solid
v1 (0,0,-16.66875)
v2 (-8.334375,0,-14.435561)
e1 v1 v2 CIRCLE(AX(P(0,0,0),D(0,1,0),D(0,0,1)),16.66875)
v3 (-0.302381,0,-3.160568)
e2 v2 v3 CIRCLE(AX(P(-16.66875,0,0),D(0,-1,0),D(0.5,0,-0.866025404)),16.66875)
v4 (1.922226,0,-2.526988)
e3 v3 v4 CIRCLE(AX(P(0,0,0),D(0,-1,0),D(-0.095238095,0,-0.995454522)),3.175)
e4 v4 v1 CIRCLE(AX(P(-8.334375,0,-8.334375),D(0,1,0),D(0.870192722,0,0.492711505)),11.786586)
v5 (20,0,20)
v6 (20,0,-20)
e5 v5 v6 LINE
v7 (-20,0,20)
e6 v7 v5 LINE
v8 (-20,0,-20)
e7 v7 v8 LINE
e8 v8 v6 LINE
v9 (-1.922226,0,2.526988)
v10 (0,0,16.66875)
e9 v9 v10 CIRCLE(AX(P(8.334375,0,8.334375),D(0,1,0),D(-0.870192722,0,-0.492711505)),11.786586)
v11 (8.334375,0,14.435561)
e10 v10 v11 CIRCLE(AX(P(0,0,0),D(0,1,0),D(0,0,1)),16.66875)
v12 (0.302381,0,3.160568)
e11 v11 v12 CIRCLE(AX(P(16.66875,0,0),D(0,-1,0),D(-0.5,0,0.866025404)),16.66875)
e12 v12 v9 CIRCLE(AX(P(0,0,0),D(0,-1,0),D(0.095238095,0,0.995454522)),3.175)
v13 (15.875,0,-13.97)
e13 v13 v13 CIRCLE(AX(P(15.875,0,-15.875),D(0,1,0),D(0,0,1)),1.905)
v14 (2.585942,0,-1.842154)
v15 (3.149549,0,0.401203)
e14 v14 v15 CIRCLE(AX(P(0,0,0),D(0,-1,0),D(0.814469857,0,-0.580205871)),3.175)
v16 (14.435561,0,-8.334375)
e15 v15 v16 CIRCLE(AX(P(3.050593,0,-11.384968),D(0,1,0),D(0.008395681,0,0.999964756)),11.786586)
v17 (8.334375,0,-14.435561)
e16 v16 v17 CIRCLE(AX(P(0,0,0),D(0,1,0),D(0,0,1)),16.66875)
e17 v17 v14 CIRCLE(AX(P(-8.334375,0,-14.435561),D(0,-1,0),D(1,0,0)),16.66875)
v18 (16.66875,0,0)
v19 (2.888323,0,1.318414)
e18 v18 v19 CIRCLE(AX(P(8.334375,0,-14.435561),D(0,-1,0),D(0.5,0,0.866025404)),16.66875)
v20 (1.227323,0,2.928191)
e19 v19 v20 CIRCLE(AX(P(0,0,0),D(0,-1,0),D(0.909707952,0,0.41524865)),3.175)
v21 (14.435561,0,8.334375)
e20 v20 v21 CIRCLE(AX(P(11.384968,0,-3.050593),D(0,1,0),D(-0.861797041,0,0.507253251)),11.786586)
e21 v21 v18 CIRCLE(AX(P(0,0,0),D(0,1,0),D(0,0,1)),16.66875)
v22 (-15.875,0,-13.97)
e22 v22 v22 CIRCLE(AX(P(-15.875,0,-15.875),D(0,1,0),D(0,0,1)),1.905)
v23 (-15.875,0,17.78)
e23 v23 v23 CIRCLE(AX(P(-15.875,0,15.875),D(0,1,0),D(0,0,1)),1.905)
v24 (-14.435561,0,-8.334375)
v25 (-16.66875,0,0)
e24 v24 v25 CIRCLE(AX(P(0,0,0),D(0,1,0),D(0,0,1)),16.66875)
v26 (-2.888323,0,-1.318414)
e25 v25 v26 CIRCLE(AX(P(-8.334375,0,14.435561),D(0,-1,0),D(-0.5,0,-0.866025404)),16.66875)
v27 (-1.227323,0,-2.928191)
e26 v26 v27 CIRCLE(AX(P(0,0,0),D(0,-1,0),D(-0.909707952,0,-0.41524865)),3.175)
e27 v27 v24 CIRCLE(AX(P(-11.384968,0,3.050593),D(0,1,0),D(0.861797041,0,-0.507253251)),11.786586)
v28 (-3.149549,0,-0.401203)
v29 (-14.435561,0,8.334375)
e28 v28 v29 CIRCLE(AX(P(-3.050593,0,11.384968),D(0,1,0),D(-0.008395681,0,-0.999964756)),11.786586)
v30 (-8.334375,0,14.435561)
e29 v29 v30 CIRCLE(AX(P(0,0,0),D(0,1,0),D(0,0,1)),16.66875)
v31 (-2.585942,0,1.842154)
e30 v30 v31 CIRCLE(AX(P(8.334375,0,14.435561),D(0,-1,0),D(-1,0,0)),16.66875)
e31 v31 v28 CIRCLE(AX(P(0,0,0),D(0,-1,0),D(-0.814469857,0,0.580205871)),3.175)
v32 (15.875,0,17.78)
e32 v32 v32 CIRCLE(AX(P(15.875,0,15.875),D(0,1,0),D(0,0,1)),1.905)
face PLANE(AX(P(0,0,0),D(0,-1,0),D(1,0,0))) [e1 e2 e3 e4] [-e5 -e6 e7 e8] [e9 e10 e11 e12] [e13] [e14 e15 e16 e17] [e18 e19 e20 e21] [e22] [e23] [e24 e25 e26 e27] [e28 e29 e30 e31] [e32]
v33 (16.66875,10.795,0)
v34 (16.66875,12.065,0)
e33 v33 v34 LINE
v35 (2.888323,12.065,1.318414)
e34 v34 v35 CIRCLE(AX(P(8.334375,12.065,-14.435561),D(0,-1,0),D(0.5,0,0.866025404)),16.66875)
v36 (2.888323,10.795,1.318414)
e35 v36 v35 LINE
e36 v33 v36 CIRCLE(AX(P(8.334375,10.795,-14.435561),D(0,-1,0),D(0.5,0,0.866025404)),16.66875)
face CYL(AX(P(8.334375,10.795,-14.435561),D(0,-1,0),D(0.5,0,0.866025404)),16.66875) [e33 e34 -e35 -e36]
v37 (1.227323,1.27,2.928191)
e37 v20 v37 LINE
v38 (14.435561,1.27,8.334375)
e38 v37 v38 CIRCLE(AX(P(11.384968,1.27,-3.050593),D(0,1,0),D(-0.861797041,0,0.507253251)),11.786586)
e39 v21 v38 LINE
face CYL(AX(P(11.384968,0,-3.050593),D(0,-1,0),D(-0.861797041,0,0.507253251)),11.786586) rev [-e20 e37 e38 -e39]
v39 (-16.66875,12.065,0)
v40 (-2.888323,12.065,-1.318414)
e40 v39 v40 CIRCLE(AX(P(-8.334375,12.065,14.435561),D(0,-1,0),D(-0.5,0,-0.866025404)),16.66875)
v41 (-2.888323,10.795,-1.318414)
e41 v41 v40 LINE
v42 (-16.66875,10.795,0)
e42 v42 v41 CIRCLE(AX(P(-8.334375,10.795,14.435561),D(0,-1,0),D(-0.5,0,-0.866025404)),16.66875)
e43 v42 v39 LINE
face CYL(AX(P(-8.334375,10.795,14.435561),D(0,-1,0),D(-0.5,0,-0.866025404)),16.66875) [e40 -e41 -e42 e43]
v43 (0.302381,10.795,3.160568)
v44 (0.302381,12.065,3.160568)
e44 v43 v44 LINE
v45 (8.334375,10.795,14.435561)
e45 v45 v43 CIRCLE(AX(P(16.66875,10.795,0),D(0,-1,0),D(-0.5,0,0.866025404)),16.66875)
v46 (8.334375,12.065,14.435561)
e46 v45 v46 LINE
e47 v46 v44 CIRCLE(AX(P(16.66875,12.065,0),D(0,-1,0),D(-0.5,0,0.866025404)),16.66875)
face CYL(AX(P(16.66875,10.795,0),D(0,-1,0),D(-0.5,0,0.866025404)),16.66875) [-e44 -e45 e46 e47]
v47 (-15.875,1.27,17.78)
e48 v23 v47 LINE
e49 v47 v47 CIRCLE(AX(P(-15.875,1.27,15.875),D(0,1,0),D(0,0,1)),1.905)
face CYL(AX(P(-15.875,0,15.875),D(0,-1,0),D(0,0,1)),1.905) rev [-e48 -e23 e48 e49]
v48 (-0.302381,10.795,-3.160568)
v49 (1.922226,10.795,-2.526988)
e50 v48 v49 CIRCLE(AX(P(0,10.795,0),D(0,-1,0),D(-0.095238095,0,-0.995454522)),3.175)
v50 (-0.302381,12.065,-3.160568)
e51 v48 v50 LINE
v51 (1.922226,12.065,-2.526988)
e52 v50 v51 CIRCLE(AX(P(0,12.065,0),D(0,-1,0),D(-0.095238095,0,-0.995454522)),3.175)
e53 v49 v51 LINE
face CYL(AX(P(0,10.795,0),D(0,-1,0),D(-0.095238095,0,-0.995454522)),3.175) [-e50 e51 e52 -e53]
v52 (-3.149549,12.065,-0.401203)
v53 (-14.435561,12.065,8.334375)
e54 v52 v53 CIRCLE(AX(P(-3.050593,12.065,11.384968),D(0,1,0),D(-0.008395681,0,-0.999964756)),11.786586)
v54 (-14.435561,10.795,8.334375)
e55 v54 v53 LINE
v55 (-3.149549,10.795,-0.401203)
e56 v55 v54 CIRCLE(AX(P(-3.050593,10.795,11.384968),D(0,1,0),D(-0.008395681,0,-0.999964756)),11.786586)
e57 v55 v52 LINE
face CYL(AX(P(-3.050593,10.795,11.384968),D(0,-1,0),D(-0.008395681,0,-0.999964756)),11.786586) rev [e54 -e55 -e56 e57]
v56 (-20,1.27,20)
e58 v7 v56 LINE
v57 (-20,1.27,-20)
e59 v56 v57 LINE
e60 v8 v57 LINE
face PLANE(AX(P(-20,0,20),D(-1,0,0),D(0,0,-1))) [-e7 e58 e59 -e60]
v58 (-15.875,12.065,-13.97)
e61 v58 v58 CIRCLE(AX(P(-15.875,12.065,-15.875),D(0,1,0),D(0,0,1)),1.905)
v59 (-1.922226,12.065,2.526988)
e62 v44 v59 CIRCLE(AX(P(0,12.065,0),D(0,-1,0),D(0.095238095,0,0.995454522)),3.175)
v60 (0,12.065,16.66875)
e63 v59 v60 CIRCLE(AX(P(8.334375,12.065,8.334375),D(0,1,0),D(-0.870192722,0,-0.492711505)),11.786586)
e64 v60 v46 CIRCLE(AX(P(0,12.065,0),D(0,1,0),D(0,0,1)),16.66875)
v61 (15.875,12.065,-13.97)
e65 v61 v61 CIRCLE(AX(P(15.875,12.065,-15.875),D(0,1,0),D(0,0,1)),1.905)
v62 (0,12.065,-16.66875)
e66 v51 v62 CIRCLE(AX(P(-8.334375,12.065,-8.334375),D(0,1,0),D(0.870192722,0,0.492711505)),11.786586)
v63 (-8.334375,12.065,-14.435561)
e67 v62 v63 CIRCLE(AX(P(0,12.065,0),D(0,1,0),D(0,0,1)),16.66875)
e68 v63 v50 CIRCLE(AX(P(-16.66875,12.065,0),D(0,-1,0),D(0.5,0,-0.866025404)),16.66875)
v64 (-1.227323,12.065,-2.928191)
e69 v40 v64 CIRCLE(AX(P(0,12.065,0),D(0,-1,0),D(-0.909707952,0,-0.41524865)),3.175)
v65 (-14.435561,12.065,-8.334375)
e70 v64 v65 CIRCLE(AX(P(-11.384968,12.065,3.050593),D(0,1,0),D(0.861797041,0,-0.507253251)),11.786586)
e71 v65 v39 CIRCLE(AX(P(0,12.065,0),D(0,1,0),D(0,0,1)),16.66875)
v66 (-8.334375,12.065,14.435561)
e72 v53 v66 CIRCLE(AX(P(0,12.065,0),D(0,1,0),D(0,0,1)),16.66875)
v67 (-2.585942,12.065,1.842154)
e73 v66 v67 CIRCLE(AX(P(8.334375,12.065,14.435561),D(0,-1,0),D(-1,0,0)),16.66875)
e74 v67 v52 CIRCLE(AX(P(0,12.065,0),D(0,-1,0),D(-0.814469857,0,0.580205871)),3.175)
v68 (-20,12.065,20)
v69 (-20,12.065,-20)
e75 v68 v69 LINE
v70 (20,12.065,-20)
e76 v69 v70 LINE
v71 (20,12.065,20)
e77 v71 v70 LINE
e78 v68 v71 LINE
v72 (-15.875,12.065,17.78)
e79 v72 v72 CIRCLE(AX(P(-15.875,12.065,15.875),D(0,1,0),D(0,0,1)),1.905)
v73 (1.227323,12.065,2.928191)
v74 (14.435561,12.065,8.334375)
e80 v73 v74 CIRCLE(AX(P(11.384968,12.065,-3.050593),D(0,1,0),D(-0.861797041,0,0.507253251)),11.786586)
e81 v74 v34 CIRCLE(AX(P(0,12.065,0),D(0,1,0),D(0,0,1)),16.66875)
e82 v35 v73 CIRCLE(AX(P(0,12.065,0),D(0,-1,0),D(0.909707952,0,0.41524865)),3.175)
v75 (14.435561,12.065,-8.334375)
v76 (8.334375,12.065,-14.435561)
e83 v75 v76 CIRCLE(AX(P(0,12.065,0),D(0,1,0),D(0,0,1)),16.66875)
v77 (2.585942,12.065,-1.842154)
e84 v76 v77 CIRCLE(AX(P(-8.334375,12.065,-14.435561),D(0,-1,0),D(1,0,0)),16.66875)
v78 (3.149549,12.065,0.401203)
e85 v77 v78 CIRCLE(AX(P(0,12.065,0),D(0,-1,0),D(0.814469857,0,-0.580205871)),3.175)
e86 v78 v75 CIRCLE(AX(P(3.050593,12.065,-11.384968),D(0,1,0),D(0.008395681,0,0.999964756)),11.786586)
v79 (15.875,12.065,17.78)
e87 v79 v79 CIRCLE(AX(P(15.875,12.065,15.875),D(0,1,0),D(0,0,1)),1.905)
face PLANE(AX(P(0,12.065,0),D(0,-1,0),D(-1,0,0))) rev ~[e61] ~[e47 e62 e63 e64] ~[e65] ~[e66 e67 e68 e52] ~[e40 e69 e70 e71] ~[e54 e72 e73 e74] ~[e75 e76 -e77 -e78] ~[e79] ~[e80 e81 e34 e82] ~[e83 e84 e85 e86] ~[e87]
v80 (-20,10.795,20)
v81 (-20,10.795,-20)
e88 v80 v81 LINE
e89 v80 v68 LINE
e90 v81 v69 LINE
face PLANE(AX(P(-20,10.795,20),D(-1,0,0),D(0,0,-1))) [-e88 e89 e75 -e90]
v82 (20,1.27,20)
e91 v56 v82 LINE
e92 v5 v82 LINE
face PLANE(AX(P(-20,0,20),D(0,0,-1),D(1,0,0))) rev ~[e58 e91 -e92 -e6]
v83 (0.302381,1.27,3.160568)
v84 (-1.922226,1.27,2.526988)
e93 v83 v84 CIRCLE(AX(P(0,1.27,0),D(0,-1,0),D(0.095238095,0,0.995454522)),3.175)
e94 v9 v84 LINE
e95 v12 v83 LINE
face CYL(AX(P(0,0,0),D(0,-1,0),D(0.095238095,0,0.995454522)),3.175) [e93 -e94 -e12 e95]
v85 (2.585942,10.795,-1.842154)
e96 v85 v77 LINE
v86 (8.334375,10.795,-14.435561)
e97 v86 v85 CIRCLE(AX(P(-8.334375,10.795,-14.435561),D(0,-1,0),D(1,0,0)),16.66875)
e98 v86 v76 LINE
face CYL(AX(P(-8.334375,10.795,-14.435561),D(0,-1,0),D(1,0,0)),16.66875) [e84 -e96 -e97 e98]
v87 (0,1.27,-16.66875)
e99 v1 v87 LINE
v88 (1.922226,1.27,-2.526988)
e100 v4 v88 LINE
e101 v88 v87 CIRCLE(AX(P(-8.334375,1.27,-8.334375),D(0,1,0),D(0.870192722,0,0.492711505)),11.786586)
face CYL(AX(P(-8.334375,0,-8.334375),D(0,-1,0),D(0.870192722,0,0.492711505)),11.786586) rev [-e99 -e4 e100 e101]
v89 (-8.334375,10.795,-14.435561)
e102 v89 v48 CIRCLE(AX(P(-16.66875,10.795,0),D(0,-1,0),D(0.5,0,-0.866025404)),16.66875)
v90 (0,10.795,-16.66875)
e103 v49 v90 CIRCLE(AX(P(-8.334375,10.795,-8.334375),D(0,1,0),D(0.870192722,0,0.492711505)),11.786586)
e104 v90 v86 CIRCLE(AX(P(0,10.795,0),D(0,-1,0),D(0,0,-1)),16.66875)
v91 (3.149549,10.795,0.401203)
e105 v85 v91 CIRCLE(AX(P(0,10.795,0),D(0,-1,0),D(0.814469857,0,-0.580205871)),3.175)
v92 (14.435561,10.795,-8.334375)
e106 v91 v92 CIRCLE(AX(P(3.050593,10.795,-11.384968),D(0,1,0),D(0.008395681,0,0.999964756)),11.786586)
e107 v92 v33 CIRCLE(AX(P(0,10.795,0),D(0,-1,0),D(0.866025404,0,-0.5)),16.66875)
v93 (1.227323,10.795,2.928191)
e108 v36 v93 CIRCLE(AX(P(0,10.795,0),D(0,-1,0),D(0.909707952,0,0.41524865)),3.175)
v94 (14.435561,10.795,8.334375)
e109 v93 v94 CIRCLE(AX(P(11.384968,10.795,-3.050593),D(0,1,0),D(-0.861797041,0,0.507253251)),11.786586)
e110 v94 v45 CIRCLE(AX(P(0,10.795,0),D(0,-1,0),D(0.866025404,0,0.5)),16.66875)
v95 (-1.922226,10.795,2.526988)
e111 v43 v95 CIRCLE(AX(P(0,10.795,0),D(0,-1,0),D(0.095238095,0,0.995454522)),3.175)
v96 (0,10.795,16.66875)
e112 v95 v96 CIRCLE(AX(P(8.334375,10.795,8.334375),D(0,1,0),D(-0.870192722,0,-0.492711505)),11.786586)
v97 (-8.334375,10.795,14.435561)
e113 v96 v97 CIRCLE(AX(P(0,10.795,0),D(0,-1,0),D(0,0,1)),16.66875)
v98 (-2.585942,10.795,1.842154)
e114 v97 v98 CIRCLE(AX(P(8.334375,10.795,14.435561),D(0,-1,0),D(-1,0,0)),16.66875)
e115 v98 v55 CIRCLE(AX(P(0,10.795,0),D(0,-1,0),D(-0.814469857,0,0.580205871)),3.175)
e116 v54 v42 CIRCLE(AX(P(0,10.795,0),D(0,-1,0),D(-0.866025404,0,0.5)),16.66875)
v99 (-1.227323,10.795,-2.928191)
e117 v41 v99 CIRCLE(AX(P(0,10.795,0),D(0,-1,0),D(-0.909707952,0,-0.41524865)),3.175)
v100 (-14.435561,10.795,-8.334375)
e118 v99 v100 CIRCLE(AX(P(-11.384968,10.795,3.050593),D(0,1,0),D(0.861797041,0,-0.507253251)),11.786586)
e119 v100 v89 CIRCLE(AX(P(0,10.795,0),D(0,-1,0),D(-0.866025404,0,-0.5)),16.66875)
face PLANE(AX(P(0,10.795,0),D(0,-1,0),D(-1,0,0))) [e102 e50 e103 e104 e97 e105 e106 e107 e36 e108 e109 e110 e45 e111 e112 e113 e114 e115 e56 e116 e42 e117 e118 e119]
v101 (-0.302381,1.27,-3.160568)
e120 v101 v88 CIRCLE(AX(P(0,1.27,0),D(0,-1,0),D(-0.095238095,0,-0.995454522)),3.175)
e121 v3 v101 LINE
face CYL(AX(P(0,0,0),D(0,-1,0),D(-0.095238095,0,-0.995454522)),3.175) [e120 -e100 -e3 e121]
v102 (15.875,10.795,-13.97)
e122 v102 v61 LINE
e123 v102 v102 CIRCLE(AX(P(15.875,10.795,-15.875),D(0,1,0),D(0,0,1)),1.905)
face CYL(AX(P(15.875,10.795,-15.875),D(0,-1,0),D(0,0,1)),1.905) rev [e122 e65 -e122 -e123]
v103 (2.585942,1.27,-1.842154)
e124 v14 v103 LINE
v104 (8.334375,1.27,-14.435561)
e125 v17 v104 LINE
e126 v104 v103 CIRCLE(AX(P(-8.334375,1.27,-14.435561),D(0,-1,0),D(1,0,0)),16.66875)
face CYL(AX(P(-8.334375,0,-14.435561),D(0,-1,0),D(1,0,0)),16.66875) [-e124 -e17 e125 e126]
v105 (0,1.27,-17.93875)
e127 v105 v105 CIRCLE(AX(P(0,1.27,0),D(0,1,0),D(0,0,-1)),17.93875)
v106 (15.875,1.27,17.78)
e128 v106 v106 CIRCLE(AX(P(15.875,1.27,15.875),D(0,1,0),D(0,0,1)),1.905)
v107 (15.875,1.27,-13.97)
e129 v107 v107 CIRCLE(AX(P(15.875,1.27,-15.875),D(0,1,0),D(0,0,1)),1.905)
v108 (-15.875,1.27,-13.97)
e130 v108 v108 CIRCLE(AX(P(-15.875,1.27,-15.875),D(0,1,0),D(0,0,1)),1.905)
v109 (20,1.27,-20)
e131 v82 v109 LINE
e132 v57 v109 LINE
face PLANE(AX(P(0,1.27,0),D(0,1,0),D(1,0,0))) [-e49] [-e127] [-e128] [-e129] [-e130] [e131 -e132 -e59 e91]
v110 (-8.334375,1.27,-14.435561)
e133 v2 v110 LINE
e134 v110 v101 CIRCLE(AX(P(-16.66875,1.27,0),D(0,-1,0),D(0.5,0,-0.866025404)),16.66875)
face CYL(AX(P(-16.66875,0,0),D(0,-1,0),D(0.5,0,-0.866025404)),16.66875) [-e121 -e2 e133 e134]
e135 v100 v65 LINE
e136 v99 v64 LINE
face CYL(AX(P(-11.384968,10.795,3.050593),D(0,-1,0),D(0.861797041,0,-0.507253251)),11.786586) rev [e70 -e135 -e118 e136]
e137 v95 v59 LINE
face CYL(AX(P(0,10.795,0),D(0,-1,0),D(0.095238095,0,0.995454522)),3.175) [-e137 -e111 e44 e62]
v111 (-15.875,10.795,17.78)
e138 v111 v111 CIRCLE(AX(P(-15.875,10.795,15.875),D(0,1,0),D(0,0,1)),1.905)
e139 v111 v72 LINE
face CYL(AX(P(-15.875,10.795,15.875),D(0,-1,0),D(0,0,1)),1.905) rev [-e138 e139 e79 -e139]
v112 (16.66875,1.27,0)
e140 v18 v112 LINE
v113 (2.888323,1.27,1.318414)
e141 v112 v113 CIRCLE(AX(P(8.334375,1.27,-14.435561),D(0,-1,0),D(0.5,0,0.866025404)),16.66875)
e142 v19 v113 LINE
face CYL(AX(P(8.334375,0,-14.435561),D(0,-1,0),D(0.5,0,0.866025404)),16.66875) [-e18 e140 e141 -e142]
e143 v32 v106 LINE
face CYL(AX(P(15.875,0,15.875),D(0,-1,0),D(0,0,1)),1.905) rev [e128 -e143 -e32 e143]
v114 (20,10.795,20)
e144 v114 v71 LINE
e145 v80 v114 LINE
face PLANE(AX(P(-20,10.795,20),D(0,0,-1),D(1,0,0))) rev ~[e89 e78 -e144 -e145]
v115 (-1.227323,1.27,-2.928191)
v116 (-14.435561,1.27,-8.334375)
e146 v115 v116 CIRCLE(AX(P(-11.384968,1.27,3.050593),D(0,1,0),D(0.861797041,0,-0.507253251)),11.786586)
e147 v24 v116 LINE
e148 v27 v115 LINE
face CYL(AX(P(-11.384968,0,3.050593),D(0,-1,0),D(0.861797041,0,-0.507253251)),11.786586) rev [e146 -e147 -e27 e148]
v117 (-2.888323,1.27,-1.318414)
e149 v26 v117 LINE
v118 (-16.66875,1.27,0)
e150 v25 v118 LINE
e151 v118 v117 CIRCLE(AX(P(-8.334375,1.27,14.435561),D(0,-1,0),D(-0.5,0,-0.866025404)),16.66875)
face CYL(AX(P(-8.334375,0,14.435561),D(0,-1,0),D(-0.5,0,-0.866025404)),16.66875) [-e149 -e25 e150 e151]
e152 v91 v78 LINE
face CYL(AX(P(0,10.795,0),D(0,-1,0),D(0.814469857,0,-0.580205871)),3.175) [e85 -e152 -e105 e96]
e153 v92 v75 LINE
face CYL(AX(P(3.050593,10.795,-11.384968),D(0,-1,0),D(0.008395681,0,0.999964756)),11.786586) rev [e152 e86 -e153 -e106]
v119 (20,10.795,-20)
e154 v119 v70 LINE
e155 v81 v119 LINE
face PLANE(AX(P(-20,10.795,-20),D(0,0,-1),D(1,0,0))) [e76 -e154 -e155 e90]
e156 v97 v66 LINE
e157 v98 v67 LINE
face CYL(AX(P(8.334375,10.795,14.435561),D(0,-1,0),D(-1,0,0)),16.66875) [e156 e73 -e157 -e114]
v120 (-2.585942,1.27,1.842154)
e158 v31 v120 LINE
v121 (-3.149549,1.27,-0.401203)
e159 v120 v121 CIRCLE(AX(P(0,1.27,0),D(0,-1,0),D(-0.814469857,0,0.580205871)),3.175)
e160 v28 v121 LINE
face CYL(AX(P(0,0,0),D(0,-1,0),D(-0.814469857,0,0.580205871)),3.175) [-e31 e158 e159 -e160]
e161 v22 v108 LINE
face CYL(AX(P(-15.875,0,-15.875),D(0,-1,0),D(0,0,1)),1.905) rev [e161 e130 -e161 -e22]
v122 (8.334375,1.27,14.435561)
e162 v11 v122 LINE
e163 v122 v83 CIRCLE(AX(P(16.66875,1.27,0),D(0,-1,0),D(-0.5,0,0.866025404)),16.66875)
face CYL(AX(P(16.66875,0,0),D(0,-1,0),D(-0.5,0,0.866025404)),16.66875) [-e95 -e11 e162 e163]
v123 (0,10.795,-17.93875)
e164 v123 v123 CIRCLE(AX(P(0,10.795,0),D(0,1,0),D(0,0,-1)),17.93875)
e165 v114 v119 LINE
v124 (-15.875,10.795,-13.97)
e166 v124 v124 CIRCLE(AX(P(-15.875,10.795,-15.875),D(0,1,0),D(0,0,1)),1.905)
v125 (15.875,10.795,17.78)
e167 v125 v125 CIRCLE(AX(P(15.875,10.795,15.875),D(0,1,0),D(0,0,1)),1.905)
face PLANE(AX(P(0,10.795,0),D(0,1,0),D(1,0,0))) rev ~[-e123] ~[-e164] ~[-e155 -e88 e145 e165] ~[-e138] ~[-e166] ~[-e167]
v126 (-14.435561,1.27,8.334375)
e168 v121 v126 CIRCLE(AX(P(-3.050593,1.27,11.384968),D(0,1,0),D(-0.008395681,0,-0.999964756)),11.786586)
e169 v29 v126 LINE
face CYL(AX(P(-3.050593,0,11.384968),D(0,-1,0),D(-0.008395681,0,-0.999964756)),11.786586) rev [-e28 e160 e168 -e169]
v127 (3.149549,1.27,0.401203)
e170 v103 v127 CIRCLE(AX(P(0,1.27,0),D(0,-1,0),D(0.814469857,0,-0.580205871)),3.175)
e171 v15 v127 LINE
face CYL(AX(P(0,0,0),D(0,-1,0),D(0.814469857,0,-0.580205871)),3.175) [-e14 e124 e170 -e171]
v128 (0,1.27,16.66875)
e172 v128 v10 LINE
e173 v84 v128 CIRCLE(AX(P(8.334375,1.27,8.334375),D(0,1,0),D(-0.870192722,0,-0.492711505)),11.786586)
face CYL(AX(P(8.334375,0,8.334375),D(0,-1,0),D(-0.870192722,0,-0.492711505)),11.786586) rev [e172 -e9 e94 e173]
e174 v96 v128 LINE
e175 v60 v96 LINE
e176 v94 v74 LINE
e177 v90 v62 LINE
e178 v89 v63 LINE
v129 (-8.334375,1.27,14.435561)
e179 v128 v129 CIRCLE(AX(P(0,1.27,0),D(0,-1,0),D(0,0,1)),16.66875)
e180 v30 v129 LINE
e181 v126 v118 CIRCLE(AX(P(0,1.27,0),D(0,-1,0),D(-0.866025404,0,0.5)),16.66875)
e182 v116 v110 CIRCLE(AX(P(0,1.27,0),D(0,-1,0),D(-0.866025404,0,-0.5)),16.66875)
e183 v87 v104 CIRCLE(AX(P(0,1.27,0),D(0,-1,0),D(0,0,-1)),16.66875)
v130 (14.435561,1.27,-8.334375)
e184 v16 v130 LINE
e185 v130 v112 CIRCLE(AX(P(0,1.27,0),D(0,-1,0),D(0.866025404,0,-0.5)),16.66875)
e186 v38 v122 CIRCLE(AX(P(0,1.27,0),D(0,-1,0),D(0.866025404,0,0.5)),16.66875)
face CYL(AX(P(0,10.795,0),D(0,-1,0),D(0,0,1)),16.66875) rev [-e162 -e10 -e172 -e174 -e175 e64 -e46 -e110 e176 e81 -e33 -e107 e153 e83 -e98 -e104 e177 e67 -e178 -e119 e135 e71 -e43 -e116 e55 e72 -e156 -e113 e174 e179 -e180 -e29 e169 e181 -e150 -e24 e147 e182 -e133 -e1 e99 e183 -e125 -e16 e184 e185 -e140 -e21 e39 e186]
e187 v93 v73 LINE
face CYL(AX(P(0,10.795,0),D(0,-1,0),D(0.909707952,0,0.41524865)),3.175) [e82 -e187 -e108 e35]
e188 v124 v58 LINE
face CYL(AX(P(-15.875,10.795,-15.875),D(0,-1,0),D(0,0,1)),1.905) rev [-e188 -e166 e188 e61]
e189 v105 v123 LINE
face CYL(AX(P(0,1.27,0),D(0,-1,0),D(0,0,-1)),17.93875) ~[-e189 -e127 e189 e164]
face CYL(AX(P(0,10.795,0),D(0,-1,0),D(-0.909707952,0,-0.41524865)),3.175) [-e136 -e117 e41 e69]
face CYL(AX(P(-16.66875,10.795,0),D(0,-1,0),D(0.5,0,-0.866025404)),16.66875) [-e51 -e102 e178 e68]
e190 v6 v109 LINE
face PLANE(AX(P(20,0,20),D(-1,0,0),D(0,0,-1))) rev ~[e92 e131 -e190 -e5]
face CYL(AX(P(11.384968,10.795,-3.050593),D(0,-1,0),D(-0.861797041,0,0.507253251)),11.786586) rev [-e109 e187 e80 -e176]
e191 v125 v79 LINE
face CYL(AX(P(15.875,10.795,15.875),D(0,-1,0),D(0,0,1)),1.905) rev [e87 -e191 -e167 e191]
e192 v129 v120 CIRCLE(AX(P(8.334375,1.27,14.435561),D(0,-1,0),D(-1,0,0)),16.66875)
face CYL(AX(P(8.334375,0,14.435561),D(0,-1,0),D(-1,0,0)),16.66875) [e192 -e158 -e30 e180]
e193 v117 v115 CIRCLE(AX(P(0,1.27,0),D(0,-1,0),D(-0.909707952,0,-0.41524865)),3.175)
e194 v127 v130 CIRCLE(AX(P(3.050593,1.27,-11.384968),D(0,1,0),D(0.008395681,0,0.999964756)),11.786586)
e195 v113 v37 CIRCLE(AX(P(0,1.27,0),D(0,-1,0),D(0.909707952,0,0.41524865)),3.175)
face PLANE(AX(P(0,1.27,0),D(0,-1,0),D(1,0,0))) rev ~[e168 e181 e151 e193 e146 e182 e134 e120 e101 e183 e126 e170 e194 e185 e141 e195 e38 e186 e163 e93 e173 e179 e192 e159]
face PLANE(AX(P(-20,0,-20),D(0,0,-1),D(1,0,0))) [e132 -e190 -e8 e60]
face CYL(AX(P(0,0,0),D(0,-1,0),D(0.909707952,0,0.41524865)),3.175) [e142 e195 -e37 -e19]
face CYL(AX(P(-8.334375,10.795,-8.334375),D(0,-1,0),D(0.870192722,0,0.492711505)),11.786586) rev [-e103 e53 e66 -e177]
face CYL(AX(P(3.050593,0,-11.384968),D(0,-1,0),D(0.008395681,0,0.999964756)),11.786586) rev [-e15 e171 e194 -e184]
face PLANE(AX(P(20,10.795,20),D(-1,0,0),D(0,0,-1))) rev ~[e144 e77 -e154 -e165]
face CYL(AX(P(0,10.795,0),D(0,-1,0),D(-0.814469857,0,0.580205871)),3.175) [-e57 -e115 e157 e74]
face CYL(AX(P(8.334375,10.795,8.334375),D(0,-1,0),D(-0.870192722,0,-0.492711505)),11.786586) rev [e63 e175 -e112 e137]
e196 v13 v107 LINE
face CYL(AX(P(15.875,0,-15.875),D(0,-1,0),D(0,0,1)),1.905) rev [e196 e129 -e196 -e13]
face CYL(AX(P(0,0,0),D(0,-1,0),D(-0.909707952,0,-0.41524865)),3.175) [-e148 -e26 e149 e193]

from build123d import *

# Parameters (mm, degrees)
SKETCH1_W           = 40
SKETCH1_H           = 40
SKETCH1_R           = 16.66875
SKETCH1_R_2         = 1.905
BOSS_EXTRUDE1_DEPTH = 1.27
SKETCH2_R           = 17.93875
SKETCH2_R_2         = 16.66875
BOSS_EXTRUDE2_DEPTH = 9.525
SKETCH3_W           = 40
SKETCH3_H           = 40
SKETCH3_R           = 16.66875
SKETCH3_R_2         = 1.905
BOSS_EXTRUDE3_DEPTH = 1.27
BOSS_EXTRUDE4_DEPTH = 1.27
BOSS_EXTRUDE5_START = -1.27
BOSS_EXTRUDE5_DEPTH = 1.27


with BuildPart() as part:
    # Sketch1 → Boss-Extrude1 (new body)
    with BuildSketch(Plane(origin=(0, 0, 0), x_dir=(1, 0, 0), z_dir=(0, 1, 0))):
        Rectangle(SKETCH1_W, SKETCH1_H)
        Circle(SKETCH1_R, mode=Mode.SUBTRACT)
        with Locations((-15.875, 15.875)):
            Circle(SKETCH1_R_2, mode=Mode.SUBTRACT)
        with Locations((15.875, 15.875)):
            Circle(SKETCH1_R_2, mode=Mode.SUBTRACT)
        with Locations((-15.875, -15.875)):
            Circle(SKETCH1_R_2, mode=Mode.SUBTRACT)
        with Locations((15.875, -15.875)):
            Circle(SKETCH1_R_2, mode=Mode.SUBTRACT)
    extrude(amount=BOSS_EXTRUDE1_DEPTH)

    # Sketch2 → Boss-Extrude2 (add)
    with BuildSketch(Plane(origin=(0, 1.27, 0), x_dir=(1, 0, 0), z_dir=(0, 1, 0))):
        Circle(SKETCH2_R)
        Circle(SKETCH2_R_2, mode=Mode.SUBTRACT)
    extrude(amount=BOSS_EXTRUDE2_DEPTH)

    # Sketch3 → Boss-Extrude3 (add)
    with BuildSketch(Plane(origin=(0, 10.795, 0), x_dir=(1, 0, 0), z_dir=(0, 1, 0))):
        Rectangle(SKETCH3_W, SKETCH3_H)
        Circle(SKETCH3_R, mode=Mode.SUBTRACT)
        with Locations((-15.875, 15.875)):
            Circle(SKETCH3_R_2, mode=Mode.SUBTRACT)
        with Locations((15.875, 15.875)):
            Circle(SKETCH3_R_2, mode=Mode.SUBTRACT)
        with Locations((-15.875, -15.875)):
            Circle(SKETCH3_R_2, mode=Mode.SUBTRACT)
        with Locations((15.875, -15.875)):
            Circle(SKETCH3_R_2, mode=Mode.SUBTRACT)
    extrude(amount=BOSS_EXTRUDE3_DEPTH)

    # Sketch4 → Boss-Extrude4 (add)
    with BuildSketch(Plane.XZ):
        with BuildLine():
            ThreePointArc((-2.585941795, 1.84215364), (-3.079306216, 0.773626673), (-3.149549386, -0.401202774))
            ThreePointArc((-3.149549386, -0.401202774), (-10.265002832, 2.064243556), (-14.435560949, 8.334375))
            ThreePointArc((-14.435560949, 8.334375), (-16.100776117, 4.314189958), (-16.66875, 0))
            ThreePointArc((-16.66875, 0), (-9.921875, -2.157421613), (-2.888322747, -1.318414467))
            ThreePointArc((-2.888322747, -1.318414467), (-2.20963346, -2.279944073), (-1.227322899, -2.928191166))
            ThreePointArc((-1.227322899, -2.928191166), (-6.920188775, -7.857631444), (-14.435560949, -8.334375))
            ThreePointArc((-14.435560949, -8.334375), (-11.786586159, -11.786586159), (-8.334375, -14.435560949))
            ThreePointArc((-8.334375, -14.435560949), (-3.092555577, -9.67130661), (-0.302380952, -3.160568107))
            ThreePointArc((-0.302380952, -3.160568107), (0.869672756, -3.053570745), (1.922226487, -2.526988392))
            ThreePointArc((1.922226487, -2.526988392), (3.344814057, -9.921875), (0, -16.66875))
            ThreePointArc((0, -16.66875), (4.314189958, -16.100776117), (8.334375, -14.435560949))
            ThreePointArc((8.334375, -14.435560949), (6.829319423, -7.513884997), (2.585941795, -1.84215364))
            ThreePointArc((2.585941795, -1.84215364), (3.079306216, -0.773626673), (3.149549386, 0.401202774))
            ThreePointArc((3.149549386, 0.401202774), (10.265002832, -2.064243556), (14.435560949, -8.334375))
            ThreePointArc((14.435560949, -8.334375), (16.100776117, -4.314189958), (16.66875, 0))
            ThreePointArc((16.66875, 0), (9.921875, 2.157421613), (2.888322747, 1.318414467))
            ThreePointArc((2.888322747, 1.318414467), (2.20963346, 2.279944073), (1.227322899, 2.928191166))
            ThreePointArc((1.227322899, 2.928191166), (6.920188775, 7.857631444), (14.435560949, 8.334375))
            ThreePointArc((14.435560949, 8.334375), (11.786586159, 11.786586159), (8.334375, 14.435560949))
            ThreePointArc((8.334375, 14.435560949), (3.092555577, 9.67130661), (0.302380952, 3.160568107))
            ThreePointArc((0.302380952, 3.160568107), (-0.869672756, 3.053570745), (-1.922226487, 2.526988392))
            ThreePointArc((-1.922226487, 2.526988392), (-3.344814057, 9.921875), (0, 16.66875))
            ThreePointArc((0, 16.66875), (-4.314189958, 16.100776117), (-8.334375, 14.435560949))
            ThreePointArc((-8.334375, 14.435560949), (-6.829319423, 7.513884997), (-2.585941795, 1.84215364))
        make_face()
    extrude(amount=-BOSS_EXTRUDE4_DEPTH)

    # Sketch5 → Boss-Extrude5 (add)
    with BuildSketch(Plane(origin=(0, 12.065, 0), x_dir=(1, 0, 0), z_dir=(0, 1, 0)).offset(BOSS_EXTRUDE5_START)):
        with BuildLine():
            ThreePointArc((1.227322899, -2.928191166), (6.920188775, -7.857631444), (14.435560949, -8.334375))
            ThreePointArc((14.435560949, -8.334375), (11.786586159, -11.786586159), (8.334375, -14.435560949))
            ThreePointArc((8.334375, -14.435560949), (3.092555577, -9.67130661), (0.302380952, -3.160568107))
            ThreePointArc((0.302380952, -3.160568107), (-0.869672756, -3.053570745), (-1.922226487, -2.526988392))
            ThreePointArc((-1.922226487, -2.526988392), (-3.344814057, -9.921875), (0, -16.66875))
            ThreePointArc((0, -16.66875), (-4.314189958, -16.100776117), (-8.334375, -14.435560949))
            ThreePointArc((-8.334375, -14.435560949), (-6.829319423, -7.513884997), (-2.585941795, -1.84215364))
            ThreePointArc((-2.585941795, -1.84215364), (-3.079306216, -0.773626673), (-3.149549386, 0.401202774))
            ThreePointArc((-3.149549386, 0.401202774), (-10.265002832, -2.064243556), (-14.435560949, -8.334375))
            ThreePointArc((-14.435560949, -8.334375), (-16.100776117, -4.314189958), (-16.66875, 0))
            ThreePointArc((-16.66875, 0), (-9.921875, 2.157421613), (-2.888322747, 1.318414467))
            ThreePointArc((-2.888322747, 1.318414467), (-2.20963346, 2.279944073), (-1.227322899, 2.928191166))
            ThreePointArc((-1.227322899, 2.928191166), (-6.920188775, 7.857631444), (-14.435560949, 8.334375))
            ThreePointArc((-14.435560949, 8.334375), (-11.786586159, 11.786586159), (-8.334375, 14.435560949))
            ThreePointArc((-8.334375, 14.435560949), (-3.092555577, 9.67130661), (-0.302380952, 3.160568107))
            ThreePointArc((-0.302380952, 3.160568107), (0.869672756, 3.053570745), (1.922226487, 2.526988392))
            ThreePointArc((1.922226487, 2.526988392), (3.344814057, 9.921875), (0, 16.66875))
            ThreePointArc((0, 16.66875), (4.314189958, 16.100776117), (8.334375, 14.435560949))
            ThreePointArc((8.334375, 14.435560949), (6.829319423, 7.513884997), (2.585941795, 1.84215364))
            ThreePointArc((2.585941795, 1.84215364), (3.079306216, 0.773626673), (3.149549386, -0.401202774))
            ThreePointArc((3.149549386, -0.401202774), (10.265002832, 2.064243556), (14.435560949, 8.334375))
            ThreePointArc((14.435560949, 8.334375), (16.100776117, 4.314189958), (16.66875, 0))
            ThreePointArc((16.66875, 0), (9.921875, -2.157421613), (2.888322747, -1.318414467))
            ThreePointArc((2.888322747, -1.318414467), (2.20963346, -2.279944073), (1.227322899, -2.928191166))
        make_face()
    extrude(amount=BOSS_EXTRUDE5_DEPTH)


solid = part.part
